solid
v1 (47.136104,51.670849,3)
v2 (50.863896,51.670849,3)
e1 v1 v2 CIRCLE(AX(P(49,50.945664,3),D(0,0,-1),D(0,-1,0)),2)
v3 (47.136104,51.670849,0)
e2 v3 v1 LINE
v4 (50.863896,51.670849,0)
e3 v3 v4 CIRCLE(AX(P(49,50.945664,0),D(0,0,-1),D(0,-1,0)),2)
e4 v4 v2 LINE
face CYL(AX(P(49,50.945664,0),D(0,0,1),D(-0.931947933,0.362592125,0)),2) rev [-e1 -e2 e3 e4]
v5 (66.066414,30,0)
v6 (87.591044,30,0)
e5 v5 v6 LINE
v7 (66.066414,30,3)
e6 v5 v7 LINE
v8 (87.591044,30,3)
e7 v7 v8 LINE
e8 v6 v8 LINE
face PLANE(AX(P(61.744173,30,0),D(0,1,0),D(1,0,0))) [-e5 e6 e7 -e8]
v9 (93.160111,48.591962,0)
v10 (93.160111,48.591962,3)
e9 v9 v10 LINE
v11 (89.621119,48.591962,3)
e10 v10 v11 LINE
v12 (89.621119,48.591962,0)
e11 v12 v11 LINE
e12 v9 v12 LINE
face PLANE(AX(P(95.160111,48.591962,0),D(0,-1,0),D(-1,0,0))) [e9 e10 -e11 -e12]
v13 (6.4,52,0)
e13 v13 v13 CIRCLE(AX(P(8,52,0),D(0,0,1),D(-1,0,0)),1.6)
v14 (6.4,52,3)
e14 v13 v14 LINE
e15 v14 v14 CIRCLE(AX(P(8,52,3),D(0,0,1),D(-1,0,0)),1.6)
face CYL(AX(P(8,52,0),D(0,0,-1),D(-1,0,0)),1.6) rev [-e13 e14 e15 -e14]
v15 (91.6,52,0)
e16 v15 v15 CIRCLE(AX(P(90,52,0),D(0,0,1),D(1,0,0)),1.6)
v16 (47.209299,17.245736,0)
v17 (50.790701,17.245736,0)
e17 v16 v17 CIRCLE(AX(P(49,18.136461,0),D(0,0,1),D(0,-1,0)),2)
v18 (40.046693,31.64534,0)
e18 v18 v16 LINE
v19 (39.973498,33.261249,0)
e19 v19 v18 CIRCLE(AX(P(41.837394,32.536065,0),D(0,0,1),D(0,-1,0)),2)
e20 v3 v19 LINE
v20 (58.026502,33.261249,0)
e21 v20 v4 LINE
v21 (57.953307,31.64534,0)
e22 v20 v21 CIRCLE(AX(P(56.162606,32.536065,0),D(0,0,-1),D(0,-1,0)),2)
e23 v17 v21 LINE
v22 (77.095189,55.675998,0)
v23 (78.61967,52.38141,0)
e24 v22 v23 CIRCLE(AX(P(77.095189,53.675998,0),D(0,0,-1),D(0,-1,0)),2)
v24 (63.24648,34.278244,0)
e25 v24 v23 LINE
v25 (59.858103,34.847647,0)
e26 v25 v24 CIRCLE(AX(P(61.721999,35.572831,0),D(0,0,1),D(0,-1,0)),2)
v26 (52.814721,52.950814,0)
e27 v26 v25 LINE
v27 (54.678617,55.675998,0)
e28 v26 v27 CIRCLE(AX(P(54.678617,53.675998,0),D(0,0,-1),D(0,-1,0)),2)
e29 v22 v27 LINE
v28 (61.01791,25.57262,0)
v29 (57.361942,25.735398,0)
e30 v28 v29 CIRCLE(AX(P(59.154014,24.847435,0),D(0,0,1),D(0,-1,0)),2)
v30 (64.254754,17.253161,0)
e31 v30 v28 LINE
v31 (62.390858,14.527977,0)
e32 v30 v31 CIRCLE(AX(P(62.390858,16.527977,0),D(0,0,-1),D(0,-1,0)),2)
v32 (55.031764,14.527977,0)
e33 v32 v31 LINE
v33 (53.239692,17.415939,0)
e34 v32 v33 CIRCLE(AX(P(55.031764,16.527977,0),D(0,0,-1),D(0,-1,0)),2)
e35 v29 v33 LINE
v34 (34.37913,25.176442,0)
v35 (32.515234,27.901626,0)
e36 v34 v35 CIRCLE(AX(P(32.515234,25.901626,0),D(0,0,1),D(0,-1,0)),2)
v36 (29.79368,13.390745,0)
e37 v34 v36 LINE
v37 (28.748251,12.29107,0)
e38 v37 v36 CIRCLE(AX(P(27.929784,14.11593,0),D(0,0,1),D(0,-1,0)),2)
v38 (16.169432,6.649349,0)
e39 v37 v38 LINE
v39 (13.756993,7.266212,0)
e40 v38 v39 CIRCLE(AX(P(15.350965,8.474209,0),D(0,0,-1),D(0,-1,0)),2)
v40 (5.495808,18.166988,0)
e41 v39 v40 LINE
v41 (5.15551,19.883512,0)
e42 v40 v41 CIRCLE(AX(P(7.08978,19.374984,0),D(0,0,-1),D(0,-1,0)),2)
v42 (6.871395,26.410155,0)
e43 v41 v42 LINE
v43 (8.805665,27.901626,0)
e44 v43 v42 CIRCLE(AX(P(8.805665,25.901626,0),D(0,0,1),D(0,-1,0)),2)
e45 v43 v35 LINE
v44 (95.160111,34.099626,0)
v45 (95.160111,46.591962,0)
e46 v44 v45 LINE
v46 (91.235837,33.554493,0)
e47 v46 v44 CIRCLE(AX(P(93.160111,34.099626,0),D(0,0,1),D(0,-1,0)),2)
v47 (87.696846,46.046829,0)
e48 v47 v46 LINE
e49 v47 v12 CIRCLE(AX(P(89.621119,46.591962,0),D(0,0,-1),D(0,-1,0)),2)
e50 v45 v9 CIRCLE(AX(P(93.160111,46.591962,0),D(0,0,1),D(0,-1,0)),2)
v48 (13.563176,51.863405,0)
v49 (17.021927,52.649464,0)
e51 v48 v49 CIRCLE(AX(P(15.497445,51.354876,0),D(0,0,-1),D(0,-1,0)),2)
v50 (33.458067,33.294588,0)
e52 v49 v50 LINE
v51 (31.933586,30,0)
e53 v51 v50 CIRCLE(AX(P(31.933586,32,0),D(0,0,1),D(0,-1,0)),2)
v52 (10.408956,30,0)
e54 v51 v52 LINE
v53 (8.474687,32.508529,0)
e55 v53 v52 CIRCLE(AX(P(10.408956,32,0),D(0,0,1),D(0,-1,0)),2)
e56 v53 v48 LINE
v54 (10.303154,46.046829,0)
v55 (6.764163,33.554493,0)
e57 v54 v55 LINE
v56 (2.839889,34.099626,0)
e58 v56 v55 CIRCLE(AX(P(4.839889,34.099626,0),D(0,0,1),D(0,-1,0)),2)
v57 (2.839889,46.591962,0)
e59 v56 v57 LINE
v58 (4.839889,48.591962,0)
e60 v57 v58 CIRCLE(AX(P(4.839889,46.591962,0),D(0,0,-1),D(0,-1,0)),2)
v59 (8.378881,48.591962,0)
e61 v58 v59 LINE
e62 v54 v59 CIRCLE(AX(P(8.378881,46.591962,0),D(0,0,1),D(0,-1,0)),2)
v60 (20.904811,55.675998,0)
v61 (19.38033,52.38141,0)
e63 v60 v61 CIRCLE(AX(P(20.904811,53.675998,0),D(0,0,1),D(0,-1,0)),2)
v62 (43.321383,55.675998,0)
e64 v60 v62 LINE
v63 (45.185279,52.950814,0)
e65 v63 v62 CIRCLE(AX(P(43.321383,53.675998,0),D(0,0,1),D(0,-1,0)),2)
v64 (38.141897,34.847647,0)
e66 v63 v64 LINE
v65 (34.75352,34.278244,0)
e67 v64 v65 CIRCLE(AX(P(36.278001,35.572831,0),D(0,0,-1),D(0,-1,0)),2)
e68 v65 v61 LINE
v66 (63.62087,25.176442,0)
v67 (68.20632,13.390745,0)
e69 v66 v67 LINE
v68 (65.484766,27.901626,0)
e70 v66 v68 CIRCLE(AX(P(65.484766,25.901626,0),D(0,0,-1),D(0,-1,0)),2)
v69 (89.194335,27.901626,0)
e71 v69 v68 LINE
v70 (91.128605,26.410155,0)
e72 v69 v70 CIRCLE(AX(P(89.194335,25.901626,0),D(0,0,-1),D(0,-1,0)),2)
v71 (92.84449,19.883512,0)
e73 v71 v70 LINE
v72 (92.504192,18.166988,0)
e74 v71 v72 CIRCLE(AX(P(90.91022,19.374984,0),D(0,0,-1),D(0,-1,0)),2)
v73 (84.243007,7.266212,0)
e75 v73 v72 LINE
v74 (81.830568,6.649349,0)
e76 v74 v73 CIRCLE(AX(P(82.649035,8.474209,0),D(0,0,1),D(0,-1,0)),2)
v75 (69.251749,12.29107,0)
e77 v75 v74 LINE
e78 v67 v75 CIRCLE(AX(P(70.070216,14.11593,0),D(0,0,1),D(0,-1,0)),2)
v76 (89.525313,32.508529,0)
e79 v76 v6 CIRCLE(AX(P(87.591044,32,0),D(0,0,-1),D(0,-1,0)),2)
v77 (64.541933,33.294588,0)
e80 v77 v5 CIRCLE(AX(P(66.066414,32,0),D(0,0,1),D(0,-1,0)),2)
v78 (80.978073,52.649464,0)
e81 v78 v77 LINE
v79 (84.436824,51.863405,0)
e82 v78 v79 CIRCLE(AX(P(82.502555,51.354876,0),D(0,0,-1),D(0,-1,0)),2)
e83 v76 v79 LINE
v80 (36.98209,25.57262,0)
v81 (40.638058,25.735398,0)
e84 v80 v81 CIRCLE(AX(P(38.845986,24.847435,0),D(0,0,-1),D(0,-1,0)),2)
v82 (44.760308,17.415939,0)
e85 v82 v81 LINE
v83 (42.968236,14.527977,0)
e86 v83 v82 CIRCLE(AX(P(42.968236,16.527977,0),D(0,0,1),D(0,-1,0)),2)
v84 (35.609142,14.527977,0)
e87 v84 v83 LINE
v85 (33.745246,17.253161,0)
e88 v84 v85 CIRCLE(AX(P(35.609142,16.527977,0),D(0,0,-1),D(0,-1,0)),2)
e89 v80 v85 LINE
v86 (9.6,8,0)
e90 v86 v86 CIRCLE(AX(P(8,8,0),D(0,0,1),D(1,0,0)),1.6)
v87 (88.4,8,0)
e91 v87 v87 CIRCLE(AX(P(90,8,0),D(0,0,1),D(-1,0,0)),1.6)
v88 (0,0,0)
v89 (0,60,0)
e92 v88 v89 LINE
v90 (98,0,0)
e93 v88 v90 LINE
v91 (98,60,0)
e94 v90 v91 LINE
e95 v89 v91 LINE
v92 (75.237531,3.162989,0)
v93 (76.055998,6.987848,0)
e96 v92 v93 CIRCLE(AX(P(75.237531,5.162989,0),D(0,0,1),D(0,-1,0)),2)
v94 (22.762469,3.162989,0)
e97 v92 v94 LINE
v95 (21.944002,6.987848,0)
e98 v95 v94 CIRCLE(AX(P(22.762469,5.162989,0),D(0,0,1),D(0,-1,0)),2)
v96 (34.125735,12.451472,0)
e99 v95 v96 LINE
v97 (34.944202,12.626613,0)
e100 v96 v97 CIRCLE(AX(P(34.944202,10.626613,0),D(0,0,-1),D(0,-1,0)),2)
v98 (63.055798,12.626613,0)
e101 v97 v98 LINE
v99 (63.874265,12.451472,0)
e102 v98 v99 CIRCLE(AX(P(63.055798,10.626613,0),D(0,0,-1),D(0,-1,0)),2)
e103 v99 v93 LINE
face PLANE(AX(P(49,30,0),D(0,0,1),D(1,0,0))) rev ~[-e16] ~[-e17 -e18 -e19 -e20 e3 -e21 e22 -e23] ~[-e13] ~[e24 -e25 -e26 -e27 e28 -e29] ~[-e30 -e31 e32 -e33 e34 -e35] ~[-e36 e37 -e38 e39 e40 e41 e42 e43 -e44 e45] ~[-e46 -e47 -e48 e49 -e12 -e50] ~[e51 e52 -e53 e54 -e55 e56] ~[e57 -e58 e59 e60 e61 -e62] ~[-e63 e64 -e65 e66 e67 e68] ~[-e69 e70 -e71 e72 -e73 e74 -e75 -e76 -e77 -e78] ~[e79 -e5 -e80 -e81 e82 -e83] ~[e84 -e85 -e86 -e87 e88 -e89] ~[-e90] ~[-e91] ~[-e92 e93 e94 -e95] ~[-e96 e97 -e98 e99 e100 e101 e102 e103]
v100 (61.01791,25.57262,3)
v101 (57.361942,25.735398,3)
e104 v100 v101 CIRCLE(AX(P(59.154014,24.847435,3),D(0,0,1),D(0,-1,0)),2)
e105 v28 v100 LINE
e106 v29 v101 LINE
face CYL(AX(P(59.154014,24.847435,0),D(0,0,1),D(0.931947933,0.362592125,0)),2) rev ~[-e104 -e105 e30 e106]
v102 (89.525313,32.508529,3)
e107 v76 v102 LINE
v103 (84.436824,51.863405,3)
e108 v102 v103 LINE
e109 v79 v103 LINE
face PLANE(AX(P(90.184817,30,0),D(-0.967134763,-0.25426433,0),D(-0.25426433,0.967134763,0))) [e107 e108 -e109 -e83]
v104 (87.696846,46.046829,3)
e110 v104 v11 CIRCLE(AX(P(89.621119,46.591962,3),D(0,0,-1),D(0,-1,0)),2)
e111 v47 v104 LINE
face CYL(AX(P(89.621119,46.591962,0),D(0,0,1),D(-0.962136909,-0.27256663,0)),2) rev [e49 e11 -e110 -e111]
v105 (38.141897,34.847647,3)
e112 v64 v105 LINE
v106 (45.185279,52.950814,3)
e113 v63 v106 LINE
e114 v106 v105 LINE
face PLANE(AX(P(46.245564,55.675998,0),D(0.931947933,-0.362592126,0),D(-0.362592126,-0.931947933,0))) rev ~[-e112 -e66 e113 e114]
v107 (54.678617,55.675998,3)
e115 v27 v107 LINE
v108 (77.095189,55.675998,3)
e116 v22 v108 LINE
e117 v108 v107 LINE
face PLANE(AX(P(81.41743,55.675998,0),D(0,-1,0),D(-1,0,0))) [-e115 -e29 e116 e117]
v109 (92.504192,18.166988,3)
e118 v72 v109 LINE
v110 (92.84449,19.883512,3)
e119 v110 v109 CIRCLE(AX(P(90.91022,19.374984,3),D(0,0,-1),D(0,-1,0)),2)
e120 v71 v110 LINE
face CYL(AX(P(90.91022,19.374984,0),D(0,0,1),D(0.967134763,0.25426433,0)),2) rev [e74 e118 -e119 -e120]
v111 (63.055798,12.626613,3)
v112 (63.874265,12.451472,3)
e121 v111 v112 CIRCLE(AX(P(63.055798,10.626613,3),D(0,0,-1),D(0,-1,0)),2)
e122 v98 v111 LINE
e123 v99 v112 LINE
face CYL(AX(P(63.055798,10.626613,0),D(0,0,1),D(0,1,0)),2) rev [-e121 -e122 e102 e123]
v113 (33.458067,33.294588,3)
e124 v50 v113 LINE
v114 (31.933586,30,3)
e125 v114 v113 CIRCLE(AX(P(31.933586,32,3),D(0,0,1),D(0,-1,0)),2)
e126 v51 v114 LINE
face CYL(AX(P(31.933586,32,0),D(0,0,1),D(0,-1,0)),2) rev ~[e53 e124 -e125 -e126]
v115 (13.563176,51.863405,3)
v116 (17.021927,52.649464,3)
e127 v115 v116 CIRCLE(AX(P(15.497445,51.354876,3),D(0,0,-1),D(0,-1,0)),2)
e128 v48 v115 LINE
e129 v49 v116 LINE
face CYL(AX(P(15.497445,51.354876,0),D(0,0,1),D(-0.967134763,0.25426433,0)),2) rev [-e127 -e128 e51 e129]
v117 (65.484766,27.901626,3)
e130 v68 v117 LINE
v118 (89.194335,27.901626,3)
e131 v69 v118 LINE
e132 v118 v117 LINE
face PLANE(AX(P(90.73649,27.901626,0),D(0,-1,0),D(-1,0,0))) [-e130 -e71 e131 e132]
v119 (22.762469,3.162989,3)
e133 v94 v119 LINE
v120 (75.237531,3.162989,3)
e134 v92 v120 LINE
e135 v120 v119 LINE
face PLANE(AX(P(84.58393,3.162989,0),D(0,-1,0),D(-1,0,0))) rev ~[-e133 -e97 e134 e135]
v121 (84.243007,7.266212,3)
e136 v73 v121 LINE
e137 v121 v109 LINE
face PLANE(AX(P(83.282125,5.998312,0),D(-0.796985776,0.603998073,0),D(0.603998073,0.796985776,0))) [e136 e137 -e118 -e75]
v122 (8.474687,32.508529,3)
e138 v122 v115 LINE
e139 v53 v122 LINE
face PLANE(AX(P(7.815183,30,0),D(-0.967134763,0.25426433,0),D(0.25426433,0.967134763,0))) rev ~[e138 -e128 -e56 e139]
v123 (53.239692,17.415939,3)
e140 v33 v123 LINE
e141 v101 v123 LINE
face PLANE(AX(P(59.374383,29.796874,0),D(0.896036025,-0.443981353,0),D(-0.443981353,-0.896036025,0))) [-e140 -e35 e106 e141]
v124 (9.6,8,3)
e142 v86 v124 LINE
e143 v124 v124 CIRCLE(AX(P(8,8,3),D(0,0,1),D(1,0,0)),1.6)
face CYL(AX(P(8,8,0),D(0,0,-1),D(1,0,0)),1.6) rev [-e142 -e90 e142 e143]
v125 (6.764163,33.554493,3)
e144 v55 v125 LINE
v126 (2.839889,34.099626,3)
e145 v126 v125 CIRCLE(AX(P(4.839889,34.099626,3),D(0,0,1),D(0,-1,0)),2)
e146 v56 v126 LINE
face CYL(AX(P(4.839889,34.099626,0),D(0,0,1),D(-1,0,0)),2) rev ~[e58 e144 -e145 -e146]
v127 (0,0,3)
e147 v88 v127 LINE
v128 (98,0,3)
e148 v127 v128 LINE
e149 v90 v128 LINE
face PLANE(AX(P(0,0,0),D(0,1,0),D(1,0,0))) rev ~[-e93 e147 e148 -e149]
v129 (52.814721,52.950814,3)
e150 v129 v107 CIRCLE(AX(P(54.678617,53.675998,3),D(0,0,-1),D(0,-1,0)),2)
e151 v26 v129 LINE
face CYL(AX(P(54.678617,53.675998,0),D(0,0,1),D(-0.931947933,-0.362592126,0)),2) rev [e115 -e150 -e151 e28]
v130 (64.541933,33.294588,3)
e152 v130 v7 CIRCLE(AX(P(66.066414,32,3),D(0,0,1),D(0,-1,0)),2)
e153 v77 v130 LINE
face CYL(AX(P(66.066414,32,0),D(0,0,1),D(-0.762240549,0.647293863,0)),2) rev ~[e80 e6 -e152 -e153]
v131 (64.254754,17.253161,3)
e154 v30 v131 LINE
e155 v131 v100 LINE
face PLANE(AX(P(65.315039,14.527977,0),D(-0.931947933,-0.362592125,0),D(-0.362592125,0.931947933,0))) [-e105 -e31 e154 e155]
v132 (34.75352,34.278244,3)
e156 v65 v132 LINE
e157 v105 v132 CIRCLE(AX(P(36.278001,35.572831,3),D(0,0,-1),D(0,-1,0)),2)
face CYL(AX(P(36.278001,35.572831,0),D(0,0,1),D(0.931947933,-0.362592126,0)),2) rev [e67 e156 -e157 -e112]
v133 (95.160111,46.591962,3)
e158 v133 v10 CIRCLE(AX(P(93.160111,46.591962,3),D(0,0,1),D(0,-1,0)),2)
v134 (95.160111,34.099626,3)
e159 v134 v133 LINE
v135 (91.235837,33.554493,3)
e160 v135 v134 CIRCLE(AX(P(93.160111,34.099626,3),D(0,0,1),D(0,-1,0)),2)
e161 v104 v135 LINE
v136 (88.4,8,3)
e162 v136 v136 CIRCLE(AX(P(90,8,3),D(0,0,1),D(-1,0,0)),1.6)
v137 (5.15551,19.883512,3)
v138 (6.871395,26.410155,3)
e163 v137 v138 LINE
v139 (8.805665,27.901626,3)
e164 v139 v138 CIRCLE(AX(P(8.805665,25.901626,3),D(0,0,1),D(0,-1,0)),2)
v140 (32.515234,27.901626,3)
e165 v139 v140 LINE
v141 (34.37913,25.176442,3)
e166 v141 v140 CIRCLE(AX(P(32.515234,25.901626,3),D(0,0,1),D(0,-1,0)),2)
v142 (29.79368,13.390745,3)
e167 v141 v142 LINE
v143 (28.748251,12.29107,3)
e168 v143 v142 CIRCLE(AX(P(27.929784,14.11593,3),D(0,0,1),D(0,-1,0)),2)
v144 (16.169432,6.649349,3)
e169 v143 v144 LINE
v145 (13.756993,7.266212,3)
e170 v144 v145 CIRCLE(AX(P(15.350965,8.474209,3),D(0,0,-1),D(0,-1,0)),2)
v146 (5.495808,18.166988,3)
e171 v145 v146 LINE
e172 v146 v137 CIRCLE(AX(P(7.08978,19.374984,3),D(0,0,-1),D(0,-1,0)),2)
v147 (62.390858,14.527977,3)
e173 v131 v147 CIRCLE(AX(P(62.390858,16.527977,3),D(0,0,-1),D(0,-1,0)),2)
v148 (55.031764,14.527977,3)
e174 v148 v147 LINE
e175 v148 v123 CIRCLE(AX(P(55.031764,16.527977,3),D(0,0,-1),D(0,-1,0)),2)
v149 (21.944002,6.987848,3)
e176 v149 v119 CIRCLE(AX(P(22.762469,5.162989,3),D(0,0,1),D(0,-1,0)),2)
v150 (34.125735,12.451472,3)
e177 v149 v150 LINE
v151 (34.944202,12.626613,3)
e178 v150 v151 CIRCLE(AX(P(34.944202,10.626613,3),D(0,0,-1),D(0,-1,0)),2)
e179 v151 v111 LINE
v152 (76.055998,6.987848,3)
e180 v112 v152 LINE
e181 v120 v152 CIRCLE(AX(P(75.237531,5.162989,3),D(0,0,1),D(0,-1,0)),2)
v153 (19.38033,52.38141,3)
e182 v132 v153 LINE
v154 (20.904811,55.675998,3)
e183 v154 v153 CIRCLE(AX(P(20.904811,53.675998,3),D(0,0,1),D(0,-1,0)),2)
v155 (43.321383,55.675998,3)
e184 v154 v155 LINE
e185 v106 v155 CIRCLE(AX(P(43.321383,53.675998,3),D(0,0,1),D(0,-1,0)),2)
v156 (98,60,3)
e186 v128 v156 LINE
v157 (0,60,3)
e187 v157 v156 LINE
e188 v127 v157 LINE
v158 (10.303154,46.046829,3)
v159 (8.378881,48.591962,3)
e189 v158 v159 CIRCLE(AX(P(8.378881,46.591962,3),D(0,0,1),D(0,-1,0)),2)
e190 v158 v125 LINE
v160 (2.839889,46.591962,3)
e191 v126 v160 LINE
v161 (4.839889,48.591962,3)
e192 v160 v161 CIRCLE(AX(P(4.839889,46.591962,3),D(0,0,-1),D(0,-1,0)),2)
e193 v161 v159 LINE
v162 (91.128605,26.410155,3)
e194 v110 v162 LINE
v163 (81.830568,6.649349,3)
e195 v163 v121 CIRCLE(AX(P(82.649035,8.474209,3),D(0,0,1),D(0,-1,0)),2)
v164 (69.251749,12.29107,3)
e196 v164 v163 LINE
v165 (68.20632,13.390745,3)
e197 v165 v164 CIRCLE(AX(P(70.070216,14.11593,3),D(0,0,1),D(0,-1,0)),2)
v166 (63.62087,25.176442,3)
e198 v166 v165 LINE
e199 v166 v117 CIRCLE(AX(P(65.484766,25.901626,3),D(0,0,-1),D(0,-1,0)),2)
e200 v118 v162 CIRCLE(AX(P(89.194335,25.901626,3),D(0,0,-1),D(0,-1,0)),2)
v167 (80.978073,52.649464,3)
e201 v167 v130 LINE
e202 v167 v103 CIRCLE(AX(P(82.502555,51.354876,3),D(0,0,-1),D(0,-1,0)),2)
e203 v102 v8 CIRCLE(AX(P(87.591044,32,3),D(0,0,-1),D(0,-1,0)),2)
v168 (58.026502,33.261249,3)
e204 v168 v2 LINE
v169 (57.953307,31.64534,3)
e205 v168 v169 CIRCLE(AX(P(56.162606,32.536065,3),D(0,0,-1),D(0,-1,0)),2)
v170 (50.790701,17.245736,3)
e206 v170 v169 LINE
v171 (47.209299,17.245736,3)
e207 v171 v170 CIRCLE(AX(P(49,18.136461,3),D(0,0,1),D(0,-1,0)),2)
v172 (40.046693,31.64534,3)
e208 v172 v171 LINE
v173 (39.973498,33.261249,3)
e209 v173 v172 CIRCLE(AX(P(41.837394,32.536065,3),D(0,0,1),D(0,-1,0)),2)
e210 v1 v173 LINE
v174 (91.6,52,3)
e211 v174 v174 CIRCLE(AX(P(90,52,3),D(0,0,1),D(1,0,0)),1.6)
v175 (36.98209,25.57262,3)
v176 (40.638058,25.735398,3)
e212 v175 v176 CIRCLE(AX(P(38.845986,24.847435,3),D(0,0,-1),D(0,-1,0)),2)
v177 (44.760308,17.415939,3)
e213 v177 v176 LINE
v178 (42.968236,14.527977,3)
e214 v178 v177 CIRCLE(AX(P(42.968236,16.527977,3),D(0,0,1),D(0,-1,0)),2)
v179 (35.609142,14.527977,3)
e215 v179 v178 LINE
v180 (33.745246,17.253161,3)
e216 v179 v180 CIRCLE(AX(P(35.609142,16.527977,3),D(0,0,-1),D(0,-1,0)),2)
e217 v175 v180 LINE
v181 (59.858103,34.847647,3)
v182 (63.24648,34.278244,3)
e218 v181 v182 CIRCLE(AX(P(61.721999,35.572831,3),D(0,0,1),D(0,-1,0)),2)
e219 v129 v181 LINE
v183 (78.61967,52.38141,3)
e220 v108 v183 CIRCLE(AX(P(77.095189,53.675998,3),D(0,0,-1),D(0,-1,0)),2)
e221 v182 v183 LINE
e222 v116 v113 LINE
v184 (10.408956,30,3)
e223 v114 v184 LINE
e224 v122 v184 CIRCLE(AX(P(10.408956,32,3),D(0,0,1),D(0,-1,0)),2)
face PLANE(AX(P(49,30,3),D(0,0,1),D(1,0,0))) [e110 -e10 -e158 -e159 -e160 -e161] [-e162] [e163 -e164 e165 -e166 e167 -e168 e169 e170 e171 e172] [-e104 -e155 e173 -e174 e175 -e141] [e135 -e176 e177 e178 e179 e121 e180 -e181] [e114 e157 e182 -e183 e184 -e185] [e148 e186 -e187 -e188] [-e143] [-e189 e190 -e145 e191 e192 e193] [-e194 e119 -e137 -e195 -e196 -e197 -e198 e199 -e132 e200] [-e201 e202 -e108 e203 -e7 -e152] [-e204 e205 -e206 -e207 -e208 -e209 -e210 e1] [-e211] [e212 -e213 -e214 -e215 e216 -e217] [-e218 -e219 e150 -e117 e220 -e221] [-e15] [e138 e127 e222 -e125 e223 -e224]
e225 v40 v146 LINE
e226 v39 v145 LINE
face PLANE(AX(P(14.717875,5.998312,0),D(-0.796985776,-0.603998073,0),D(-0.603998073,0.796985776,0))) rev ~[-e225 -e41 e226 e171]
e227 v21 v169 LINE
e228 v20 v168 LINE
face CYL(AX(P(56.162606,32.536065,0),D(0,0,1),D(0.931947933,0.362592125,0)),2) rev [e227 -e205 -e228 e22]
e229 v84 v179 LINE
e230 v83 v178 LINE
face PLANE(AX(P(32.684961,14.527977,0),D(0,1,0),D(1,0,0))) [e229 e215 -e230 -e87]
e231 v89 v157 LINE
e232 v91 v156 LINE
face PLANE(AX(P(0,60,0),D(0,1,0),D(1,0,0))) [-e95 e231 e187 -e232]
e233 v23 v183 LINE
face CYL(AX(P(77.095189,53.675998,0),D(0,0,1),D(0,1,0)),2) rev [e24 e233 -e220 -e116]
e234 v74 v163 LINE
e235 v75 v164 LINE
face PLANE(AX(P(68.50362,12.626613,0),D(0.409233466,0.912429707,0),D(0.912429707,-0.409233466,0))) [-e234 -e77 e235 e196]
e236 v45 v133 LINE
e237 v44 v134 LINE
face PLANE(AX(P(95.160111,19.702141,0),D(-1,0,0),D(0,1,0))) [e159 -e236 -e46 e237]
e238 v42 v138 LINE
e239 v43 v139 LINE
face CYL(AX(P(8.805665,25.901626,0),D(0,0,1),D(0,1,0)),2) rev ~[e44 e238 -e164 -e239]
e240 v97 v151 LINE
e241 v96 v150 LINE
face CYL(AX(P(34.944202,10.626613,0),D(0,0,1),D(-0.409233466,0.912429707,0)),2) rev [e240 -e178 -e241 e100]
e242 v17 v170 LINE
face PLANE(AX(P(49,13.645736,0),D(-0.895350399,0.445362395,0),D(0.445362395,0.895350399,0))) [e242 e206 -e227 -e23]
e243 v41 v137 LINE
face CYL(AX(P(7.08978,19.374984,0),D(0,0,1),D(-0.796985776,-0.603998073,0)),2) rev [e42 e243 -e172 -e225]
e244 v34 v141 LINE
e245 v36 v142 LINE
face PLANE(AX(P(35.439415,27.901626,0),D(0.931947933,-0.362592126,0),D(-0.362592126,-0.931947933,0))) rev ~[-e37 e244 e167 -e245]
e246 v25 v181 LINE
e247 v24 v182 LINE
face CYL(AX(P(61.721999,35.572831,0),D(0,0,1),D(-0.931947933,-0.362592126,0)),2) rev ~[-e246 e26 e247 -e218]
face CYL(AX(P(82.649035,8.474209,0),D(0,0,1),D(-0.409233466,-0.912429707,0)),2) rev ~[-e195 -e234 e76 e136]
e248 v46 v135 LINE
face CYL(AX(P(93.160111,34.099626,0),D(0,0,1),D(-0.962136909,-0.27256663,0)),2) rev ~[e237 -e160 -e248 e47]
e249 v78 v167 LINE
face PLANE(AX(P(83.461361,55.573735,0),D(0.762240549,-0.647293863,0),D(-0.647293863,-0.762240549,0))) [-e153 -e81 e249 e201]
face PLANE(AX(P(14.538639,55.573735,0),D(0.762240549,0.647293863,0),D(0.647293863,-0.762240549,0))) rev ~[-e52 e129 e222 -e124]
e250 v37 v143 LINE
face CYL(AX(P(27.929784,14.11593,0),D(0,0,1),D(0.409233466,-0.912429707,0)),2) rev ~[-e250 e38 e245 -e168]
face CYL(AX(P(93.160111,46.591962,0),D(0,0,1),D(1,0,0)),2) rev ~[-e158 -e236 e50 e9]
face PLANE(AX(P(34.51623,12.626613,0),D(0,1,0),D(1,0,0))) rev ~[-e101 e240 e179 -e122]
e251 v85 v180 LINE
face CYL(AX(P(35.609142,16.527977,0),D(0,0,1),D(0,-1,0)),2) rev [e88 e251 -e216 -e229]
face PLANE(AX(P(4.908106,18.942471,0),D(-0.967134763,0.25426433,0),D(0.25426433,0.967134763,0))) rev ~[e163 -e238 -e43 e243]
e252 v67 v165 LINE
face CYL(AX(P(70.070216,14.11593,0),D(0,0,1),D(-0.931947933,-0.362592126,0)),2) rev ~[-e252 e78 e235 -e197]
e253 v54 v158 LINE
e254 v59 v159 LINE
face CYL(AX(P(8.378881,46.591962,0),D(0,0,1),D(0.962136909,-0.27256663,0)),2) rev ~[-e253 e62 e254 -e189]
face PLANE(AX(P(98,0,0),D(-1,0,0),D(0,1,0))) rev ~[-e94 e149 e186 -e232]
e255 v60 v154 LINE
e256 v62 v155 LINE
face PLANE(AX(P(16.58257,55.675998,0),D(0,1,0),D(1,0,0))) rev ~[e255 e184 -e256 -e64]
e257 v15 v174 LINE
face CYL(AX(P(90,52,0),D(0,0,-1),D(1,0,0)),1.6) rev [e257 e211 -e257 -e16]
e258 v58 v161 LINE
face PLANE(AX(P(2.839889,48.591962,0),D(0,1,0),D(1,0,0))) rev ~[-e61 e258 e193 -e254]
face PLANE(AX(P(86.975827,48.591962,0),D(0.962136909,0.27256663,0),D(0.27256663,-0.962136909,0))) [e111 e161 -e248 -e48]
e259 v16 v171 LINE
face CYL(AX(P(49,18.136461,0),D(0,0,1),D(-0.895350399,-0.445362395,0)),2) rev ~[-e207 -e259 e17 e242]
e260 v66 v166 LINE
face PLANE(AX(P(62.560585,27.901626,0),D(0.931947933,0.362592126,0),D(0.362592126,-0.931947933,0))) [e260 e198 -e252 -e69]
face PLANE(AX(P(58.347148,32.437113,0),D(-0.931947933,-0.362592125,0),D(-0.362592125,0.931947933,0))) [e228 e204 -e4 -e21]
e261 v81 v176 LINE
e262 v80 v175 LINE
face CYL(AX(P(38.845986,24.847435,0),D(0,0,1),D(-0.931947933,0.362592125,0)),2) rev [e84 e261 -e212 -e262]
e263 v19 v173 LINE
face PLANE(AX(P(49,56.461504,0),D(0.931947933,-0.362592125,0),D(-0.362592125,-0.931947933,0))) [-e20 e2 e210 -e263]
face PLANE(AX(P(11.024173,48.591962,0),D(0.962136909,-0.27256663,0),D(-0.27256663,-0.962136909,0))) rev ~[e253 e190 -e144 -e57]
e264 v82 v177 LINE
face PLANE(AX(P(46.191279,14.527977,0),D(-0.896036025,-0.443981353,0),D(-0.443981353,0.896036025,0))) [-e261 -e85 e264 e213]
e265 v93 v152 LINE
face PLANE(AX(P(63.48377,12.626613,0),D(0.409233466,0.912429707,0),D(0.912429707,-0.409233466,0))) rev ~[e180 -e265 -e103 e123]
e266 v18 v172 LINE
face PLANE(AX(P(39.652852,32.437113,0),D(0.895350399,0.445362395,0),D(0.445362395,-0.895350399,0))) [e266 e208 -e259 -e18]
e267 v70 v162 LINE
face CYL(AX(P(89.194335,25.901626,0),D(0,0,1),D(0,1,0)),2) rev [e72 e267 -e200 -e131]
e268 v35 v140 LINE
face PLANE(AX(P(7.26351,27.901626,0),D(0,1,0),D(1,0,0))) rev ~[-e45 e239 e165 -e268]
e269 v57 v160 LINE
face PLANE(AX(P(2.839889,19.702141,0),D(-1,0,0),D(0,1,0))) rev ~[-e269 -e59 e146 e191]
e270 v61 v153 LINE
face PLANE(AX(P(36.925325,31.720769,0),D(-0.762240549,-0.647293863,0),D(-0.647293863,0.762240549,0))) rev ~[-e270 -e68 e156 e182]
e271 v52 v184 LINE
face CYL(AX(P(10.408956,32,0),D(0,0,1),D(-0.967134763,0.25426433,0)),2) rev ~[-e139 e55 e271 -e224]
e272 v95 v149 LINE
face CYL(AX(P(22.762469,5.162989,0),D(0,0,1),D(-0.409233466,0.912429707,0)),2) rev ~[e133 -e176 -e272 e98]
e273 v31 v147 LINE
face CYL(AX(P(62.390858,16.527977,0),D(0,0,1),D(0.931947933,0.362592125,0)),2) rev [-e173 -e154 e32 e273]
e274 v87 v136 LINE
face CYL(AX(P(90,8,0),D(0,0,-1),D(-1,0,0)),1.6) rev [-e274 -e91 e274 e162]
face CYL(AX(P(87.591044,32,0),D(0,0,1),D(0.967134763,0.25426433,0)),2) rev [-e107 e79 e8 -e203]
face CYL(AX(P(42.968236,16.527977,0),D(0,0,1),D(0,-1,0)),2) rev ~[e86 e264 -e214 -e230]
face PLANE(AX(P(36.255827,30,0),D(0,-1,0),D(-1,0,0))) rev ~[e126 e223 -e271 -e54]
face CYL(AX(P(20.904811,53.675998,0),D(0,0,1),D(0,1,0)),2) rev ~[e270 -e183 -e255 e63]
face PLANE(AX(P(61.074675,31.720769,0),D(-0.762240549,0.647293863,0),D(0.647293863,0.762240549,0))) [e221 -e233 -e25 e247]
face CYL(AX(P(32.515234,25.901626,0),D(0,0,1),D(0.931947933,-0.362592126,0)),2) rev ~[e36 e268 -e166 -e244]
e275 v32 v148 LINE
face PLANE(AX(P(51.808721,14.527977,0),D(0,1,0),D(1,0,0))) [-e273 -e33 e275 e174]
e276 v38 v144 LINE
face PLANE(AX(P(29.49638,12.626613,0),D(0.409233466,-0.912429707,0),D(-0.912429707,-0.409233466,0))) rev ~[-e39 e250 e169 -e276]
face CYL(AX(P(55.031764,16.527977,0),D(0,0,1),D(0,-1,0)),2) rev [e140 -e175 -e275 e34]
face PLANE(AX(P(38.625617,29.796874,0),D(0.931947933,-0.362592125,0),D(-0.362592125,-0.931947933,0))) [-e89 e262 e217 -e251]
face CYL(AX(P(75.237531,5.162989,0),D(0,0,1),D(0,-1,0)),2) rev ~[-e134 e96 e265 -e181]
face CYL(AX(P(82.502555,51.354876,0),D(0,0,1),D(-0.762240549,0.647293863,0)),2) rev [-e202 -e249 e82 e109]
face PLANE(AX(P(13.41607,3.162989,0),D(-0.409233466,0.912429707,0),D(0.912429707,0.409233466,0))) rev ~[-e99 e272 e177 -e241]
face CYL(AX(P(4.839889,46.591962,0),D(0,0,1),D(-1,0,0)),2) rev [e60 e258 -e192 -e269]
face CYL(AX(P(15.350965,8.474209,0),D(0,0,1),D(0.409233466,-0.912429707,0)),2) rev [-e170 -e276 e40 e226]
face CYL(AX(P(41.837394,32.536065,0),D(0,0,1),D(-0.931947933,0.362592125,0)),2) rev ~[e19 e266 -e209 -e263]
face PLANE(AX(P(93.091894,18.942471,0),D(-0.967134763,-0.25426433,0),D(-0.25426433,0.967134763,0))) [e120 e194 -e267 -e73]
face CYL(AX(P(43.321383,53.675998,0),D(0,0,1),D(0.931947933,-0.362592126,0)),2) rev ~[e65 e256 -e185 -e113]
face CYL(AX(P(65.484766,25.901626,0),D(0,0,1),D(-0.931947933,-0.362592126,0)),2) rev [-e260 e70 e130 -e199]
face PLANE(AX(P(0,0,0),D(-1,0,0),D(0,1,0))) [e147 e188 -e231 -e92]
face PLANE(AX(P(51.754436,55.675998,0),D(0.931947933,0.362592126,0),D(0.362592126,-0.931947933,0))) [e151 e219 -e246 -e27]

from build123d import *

# Parameters (mm, degrees)
SKETCH_1_W      = 98
SKETCH_1_H      = 60
SKETCH_1_R      = 1.6
EXTRUDE_1_DEPTH = 3
FILLET_4_R      = 2


with BuildPart() as part:
    # 草图1 → 凸台-拉伸1 (new body)
    with BuildSketch(Plane.XY):
        with Locations((49, 30)):
            Rectangle(SKETCH_1_W, SKETCH_1_H)
        with Locations((8, 8)):
            Circle(SKETCH_1_R, mode=Mode.SUBTRACT)
        with Locations(Location((90, 8, 0), (0, 0, 180))):
            Circle(SKETCH_1_R, mode=Mode.SUBTRACT)
        with Locations((90, 52)):
            Circle(SKETCH_1_R, mode=Mode.SUBTRACT)
        with Locations(Location((8, 52, 0), (0, 0, 180))):
            Circle(SKETCH_1_R, mode=Mode.SUBTRACT)
        Polygon((49, 56.461504081), (39.652852225, 32.437112926), (49, 13.645736298), (58.347147775, 32.437112926), align=None, mode=Mode.SUBTRACT)
        Polygon((32.684961024, 14.527976606), (46.19127915, 14.527976606), (38.625617, 29.796874275), align=None, mode=Mode.SUBTRACT)
        Polygon((65.315038976, 14.527976606), (59.374383, 29.796874275), (51.80872085, 14.527976606), align=None, mode=Mode.SUBTRACT)
        Polygon((51.754435798, 55.675997791), (61.074674823, 31.720768521), (81.417430018, 55.675997791), align=None, mode=Mode.SUBTRACT)
        Polygon((83.46136082, 55.573734568), (61.744172649, 30), (90.184817286, 30), align=None, mode=Mode.SUBTRACT)
        Polygon((62.560585094, 27.901625993), (68.503620332, 12.626613057), (83.282124763, 5.998312223), (93.091894324, 18.94247075), (90.736489794, 27.901625993), align=None, mode=Mode.SUBTRACT)
        Polygon((34.516229814, 12.626613057), (63.483770186, 12.626613057), (84.583930387, 3.16298904), (13.416069613, 3.16298904), align=None, mode=Mode.SUBTRACT)
        Polygon((14.717875237, 5.998312223), (4.908105676, 18.94247075), (7.263510206, 27.901625993), (35.439414906, 27.901625993), (29.496379668, 12.626613057), align=None, mode=Mode.SUBTRACT)
        Polygon((14.53863918, 55.573734568), (36.255827351, 30), (7.815182714, 30), align=None, mode=Mode.SUBTRACT)
        Polygon((36.925325177, 31.720768521), (16.582569982, 55.675997791), (46.245564202, 55.675997791), align=None, mode=Mode.SUBTRACT)
        Polygon((2.839889493, 48.591962143), (11.02417284, 48.591962143), (2.839889493, 19.702141439), align=None, mode=Mode.SUBTRACT)
        Polygon((86.97582716, 48.591962143), (95.160110507, 19.702141439), (95.160110507, 48.591962143), align=None, mode=Mode.SUBTRACT)
    extrude(amount=EXTRUDE_1_DEPTH)

    # 圆角4
    fillet_4_edges = [part.edges().sort_by_distance(p)[0] for p in [
        (90.736489794, 27.901625993, 1.5),
        (62.560585094, 27.901625993, 1.5),
        (2.839889493, 48.591962143, 1.5),
        (2.839889493, 19.702141439, 1.5),
        (11.02417284, 48.591962143, 1.5),
        (95.160110507, 48.591962143, 1.5),
        (86.97582716, 48.591962143, 1.5),
        (95.160110507, 19.702141439, 1.5),
        (35.439414906, 27.901625993, 1.5),
        (7.263510206, 27.901625993, 1.5),
        (4.908105676, 18.94247075, 1.5),
        (14.717875237, 5.998312223, 1.5),
        (29.496379668, 12.626613057, 1.5),
        (14.53863918, 55.573734568, 1.5),
        (7.815182714, 30, 1.5),
        (36.255827351, 30, 1.5),
        (36.925325177, 31.720768521, 1.5),
        (46.245564202, 55.675997791, 1.5),
        (16.582569982, 55.675997791, 1.5),
        (58.347147775, 32.437112926, 1.5),
        (49, 56.461504081, 1.5),
        (39.652852225, 32.437112926, 1.5),
        (49, 13.645736298, 1.5),
        (38.625617, 29.796874275, 1.5),
        (32.684961024, 14.527976606, 1.5),
        (46.19127915, 14.527976606, 1.5),
        (81.417430018, 55.675997791, 1.5),
        (51.754435798, 55.675997791, 1.5),
        (61.074674823, 31.720768521, 1.5),
        (51.80872085, 14.527976606, 1.5),
        (65.315038976, 14.527976606, 1.5),
        (59.374383, 29.796874275, 1.5),
        (90.184817286, 30, 1.5),
        (83.46136082, 55.573734568, 1.5),
        (61.744172649, 30, 1.5),
        (34.516229814, 12.626613057, 1.5),
        (13.416069613, 3.16298904, 1.5),
        (84.583930387, 3.16298904, 1.5),
        (63.483770186, 12.626613057, 1.5),
        (68.503620332, 12.626613057, 1.5),
        (83.282124763, 5.998312223, 1.5),
        (93.091894324, 18.94247075, 1.5),
    ]]
    fillet(fillet_4_edges, radius=FILLET_4_R)


solid = part.part
